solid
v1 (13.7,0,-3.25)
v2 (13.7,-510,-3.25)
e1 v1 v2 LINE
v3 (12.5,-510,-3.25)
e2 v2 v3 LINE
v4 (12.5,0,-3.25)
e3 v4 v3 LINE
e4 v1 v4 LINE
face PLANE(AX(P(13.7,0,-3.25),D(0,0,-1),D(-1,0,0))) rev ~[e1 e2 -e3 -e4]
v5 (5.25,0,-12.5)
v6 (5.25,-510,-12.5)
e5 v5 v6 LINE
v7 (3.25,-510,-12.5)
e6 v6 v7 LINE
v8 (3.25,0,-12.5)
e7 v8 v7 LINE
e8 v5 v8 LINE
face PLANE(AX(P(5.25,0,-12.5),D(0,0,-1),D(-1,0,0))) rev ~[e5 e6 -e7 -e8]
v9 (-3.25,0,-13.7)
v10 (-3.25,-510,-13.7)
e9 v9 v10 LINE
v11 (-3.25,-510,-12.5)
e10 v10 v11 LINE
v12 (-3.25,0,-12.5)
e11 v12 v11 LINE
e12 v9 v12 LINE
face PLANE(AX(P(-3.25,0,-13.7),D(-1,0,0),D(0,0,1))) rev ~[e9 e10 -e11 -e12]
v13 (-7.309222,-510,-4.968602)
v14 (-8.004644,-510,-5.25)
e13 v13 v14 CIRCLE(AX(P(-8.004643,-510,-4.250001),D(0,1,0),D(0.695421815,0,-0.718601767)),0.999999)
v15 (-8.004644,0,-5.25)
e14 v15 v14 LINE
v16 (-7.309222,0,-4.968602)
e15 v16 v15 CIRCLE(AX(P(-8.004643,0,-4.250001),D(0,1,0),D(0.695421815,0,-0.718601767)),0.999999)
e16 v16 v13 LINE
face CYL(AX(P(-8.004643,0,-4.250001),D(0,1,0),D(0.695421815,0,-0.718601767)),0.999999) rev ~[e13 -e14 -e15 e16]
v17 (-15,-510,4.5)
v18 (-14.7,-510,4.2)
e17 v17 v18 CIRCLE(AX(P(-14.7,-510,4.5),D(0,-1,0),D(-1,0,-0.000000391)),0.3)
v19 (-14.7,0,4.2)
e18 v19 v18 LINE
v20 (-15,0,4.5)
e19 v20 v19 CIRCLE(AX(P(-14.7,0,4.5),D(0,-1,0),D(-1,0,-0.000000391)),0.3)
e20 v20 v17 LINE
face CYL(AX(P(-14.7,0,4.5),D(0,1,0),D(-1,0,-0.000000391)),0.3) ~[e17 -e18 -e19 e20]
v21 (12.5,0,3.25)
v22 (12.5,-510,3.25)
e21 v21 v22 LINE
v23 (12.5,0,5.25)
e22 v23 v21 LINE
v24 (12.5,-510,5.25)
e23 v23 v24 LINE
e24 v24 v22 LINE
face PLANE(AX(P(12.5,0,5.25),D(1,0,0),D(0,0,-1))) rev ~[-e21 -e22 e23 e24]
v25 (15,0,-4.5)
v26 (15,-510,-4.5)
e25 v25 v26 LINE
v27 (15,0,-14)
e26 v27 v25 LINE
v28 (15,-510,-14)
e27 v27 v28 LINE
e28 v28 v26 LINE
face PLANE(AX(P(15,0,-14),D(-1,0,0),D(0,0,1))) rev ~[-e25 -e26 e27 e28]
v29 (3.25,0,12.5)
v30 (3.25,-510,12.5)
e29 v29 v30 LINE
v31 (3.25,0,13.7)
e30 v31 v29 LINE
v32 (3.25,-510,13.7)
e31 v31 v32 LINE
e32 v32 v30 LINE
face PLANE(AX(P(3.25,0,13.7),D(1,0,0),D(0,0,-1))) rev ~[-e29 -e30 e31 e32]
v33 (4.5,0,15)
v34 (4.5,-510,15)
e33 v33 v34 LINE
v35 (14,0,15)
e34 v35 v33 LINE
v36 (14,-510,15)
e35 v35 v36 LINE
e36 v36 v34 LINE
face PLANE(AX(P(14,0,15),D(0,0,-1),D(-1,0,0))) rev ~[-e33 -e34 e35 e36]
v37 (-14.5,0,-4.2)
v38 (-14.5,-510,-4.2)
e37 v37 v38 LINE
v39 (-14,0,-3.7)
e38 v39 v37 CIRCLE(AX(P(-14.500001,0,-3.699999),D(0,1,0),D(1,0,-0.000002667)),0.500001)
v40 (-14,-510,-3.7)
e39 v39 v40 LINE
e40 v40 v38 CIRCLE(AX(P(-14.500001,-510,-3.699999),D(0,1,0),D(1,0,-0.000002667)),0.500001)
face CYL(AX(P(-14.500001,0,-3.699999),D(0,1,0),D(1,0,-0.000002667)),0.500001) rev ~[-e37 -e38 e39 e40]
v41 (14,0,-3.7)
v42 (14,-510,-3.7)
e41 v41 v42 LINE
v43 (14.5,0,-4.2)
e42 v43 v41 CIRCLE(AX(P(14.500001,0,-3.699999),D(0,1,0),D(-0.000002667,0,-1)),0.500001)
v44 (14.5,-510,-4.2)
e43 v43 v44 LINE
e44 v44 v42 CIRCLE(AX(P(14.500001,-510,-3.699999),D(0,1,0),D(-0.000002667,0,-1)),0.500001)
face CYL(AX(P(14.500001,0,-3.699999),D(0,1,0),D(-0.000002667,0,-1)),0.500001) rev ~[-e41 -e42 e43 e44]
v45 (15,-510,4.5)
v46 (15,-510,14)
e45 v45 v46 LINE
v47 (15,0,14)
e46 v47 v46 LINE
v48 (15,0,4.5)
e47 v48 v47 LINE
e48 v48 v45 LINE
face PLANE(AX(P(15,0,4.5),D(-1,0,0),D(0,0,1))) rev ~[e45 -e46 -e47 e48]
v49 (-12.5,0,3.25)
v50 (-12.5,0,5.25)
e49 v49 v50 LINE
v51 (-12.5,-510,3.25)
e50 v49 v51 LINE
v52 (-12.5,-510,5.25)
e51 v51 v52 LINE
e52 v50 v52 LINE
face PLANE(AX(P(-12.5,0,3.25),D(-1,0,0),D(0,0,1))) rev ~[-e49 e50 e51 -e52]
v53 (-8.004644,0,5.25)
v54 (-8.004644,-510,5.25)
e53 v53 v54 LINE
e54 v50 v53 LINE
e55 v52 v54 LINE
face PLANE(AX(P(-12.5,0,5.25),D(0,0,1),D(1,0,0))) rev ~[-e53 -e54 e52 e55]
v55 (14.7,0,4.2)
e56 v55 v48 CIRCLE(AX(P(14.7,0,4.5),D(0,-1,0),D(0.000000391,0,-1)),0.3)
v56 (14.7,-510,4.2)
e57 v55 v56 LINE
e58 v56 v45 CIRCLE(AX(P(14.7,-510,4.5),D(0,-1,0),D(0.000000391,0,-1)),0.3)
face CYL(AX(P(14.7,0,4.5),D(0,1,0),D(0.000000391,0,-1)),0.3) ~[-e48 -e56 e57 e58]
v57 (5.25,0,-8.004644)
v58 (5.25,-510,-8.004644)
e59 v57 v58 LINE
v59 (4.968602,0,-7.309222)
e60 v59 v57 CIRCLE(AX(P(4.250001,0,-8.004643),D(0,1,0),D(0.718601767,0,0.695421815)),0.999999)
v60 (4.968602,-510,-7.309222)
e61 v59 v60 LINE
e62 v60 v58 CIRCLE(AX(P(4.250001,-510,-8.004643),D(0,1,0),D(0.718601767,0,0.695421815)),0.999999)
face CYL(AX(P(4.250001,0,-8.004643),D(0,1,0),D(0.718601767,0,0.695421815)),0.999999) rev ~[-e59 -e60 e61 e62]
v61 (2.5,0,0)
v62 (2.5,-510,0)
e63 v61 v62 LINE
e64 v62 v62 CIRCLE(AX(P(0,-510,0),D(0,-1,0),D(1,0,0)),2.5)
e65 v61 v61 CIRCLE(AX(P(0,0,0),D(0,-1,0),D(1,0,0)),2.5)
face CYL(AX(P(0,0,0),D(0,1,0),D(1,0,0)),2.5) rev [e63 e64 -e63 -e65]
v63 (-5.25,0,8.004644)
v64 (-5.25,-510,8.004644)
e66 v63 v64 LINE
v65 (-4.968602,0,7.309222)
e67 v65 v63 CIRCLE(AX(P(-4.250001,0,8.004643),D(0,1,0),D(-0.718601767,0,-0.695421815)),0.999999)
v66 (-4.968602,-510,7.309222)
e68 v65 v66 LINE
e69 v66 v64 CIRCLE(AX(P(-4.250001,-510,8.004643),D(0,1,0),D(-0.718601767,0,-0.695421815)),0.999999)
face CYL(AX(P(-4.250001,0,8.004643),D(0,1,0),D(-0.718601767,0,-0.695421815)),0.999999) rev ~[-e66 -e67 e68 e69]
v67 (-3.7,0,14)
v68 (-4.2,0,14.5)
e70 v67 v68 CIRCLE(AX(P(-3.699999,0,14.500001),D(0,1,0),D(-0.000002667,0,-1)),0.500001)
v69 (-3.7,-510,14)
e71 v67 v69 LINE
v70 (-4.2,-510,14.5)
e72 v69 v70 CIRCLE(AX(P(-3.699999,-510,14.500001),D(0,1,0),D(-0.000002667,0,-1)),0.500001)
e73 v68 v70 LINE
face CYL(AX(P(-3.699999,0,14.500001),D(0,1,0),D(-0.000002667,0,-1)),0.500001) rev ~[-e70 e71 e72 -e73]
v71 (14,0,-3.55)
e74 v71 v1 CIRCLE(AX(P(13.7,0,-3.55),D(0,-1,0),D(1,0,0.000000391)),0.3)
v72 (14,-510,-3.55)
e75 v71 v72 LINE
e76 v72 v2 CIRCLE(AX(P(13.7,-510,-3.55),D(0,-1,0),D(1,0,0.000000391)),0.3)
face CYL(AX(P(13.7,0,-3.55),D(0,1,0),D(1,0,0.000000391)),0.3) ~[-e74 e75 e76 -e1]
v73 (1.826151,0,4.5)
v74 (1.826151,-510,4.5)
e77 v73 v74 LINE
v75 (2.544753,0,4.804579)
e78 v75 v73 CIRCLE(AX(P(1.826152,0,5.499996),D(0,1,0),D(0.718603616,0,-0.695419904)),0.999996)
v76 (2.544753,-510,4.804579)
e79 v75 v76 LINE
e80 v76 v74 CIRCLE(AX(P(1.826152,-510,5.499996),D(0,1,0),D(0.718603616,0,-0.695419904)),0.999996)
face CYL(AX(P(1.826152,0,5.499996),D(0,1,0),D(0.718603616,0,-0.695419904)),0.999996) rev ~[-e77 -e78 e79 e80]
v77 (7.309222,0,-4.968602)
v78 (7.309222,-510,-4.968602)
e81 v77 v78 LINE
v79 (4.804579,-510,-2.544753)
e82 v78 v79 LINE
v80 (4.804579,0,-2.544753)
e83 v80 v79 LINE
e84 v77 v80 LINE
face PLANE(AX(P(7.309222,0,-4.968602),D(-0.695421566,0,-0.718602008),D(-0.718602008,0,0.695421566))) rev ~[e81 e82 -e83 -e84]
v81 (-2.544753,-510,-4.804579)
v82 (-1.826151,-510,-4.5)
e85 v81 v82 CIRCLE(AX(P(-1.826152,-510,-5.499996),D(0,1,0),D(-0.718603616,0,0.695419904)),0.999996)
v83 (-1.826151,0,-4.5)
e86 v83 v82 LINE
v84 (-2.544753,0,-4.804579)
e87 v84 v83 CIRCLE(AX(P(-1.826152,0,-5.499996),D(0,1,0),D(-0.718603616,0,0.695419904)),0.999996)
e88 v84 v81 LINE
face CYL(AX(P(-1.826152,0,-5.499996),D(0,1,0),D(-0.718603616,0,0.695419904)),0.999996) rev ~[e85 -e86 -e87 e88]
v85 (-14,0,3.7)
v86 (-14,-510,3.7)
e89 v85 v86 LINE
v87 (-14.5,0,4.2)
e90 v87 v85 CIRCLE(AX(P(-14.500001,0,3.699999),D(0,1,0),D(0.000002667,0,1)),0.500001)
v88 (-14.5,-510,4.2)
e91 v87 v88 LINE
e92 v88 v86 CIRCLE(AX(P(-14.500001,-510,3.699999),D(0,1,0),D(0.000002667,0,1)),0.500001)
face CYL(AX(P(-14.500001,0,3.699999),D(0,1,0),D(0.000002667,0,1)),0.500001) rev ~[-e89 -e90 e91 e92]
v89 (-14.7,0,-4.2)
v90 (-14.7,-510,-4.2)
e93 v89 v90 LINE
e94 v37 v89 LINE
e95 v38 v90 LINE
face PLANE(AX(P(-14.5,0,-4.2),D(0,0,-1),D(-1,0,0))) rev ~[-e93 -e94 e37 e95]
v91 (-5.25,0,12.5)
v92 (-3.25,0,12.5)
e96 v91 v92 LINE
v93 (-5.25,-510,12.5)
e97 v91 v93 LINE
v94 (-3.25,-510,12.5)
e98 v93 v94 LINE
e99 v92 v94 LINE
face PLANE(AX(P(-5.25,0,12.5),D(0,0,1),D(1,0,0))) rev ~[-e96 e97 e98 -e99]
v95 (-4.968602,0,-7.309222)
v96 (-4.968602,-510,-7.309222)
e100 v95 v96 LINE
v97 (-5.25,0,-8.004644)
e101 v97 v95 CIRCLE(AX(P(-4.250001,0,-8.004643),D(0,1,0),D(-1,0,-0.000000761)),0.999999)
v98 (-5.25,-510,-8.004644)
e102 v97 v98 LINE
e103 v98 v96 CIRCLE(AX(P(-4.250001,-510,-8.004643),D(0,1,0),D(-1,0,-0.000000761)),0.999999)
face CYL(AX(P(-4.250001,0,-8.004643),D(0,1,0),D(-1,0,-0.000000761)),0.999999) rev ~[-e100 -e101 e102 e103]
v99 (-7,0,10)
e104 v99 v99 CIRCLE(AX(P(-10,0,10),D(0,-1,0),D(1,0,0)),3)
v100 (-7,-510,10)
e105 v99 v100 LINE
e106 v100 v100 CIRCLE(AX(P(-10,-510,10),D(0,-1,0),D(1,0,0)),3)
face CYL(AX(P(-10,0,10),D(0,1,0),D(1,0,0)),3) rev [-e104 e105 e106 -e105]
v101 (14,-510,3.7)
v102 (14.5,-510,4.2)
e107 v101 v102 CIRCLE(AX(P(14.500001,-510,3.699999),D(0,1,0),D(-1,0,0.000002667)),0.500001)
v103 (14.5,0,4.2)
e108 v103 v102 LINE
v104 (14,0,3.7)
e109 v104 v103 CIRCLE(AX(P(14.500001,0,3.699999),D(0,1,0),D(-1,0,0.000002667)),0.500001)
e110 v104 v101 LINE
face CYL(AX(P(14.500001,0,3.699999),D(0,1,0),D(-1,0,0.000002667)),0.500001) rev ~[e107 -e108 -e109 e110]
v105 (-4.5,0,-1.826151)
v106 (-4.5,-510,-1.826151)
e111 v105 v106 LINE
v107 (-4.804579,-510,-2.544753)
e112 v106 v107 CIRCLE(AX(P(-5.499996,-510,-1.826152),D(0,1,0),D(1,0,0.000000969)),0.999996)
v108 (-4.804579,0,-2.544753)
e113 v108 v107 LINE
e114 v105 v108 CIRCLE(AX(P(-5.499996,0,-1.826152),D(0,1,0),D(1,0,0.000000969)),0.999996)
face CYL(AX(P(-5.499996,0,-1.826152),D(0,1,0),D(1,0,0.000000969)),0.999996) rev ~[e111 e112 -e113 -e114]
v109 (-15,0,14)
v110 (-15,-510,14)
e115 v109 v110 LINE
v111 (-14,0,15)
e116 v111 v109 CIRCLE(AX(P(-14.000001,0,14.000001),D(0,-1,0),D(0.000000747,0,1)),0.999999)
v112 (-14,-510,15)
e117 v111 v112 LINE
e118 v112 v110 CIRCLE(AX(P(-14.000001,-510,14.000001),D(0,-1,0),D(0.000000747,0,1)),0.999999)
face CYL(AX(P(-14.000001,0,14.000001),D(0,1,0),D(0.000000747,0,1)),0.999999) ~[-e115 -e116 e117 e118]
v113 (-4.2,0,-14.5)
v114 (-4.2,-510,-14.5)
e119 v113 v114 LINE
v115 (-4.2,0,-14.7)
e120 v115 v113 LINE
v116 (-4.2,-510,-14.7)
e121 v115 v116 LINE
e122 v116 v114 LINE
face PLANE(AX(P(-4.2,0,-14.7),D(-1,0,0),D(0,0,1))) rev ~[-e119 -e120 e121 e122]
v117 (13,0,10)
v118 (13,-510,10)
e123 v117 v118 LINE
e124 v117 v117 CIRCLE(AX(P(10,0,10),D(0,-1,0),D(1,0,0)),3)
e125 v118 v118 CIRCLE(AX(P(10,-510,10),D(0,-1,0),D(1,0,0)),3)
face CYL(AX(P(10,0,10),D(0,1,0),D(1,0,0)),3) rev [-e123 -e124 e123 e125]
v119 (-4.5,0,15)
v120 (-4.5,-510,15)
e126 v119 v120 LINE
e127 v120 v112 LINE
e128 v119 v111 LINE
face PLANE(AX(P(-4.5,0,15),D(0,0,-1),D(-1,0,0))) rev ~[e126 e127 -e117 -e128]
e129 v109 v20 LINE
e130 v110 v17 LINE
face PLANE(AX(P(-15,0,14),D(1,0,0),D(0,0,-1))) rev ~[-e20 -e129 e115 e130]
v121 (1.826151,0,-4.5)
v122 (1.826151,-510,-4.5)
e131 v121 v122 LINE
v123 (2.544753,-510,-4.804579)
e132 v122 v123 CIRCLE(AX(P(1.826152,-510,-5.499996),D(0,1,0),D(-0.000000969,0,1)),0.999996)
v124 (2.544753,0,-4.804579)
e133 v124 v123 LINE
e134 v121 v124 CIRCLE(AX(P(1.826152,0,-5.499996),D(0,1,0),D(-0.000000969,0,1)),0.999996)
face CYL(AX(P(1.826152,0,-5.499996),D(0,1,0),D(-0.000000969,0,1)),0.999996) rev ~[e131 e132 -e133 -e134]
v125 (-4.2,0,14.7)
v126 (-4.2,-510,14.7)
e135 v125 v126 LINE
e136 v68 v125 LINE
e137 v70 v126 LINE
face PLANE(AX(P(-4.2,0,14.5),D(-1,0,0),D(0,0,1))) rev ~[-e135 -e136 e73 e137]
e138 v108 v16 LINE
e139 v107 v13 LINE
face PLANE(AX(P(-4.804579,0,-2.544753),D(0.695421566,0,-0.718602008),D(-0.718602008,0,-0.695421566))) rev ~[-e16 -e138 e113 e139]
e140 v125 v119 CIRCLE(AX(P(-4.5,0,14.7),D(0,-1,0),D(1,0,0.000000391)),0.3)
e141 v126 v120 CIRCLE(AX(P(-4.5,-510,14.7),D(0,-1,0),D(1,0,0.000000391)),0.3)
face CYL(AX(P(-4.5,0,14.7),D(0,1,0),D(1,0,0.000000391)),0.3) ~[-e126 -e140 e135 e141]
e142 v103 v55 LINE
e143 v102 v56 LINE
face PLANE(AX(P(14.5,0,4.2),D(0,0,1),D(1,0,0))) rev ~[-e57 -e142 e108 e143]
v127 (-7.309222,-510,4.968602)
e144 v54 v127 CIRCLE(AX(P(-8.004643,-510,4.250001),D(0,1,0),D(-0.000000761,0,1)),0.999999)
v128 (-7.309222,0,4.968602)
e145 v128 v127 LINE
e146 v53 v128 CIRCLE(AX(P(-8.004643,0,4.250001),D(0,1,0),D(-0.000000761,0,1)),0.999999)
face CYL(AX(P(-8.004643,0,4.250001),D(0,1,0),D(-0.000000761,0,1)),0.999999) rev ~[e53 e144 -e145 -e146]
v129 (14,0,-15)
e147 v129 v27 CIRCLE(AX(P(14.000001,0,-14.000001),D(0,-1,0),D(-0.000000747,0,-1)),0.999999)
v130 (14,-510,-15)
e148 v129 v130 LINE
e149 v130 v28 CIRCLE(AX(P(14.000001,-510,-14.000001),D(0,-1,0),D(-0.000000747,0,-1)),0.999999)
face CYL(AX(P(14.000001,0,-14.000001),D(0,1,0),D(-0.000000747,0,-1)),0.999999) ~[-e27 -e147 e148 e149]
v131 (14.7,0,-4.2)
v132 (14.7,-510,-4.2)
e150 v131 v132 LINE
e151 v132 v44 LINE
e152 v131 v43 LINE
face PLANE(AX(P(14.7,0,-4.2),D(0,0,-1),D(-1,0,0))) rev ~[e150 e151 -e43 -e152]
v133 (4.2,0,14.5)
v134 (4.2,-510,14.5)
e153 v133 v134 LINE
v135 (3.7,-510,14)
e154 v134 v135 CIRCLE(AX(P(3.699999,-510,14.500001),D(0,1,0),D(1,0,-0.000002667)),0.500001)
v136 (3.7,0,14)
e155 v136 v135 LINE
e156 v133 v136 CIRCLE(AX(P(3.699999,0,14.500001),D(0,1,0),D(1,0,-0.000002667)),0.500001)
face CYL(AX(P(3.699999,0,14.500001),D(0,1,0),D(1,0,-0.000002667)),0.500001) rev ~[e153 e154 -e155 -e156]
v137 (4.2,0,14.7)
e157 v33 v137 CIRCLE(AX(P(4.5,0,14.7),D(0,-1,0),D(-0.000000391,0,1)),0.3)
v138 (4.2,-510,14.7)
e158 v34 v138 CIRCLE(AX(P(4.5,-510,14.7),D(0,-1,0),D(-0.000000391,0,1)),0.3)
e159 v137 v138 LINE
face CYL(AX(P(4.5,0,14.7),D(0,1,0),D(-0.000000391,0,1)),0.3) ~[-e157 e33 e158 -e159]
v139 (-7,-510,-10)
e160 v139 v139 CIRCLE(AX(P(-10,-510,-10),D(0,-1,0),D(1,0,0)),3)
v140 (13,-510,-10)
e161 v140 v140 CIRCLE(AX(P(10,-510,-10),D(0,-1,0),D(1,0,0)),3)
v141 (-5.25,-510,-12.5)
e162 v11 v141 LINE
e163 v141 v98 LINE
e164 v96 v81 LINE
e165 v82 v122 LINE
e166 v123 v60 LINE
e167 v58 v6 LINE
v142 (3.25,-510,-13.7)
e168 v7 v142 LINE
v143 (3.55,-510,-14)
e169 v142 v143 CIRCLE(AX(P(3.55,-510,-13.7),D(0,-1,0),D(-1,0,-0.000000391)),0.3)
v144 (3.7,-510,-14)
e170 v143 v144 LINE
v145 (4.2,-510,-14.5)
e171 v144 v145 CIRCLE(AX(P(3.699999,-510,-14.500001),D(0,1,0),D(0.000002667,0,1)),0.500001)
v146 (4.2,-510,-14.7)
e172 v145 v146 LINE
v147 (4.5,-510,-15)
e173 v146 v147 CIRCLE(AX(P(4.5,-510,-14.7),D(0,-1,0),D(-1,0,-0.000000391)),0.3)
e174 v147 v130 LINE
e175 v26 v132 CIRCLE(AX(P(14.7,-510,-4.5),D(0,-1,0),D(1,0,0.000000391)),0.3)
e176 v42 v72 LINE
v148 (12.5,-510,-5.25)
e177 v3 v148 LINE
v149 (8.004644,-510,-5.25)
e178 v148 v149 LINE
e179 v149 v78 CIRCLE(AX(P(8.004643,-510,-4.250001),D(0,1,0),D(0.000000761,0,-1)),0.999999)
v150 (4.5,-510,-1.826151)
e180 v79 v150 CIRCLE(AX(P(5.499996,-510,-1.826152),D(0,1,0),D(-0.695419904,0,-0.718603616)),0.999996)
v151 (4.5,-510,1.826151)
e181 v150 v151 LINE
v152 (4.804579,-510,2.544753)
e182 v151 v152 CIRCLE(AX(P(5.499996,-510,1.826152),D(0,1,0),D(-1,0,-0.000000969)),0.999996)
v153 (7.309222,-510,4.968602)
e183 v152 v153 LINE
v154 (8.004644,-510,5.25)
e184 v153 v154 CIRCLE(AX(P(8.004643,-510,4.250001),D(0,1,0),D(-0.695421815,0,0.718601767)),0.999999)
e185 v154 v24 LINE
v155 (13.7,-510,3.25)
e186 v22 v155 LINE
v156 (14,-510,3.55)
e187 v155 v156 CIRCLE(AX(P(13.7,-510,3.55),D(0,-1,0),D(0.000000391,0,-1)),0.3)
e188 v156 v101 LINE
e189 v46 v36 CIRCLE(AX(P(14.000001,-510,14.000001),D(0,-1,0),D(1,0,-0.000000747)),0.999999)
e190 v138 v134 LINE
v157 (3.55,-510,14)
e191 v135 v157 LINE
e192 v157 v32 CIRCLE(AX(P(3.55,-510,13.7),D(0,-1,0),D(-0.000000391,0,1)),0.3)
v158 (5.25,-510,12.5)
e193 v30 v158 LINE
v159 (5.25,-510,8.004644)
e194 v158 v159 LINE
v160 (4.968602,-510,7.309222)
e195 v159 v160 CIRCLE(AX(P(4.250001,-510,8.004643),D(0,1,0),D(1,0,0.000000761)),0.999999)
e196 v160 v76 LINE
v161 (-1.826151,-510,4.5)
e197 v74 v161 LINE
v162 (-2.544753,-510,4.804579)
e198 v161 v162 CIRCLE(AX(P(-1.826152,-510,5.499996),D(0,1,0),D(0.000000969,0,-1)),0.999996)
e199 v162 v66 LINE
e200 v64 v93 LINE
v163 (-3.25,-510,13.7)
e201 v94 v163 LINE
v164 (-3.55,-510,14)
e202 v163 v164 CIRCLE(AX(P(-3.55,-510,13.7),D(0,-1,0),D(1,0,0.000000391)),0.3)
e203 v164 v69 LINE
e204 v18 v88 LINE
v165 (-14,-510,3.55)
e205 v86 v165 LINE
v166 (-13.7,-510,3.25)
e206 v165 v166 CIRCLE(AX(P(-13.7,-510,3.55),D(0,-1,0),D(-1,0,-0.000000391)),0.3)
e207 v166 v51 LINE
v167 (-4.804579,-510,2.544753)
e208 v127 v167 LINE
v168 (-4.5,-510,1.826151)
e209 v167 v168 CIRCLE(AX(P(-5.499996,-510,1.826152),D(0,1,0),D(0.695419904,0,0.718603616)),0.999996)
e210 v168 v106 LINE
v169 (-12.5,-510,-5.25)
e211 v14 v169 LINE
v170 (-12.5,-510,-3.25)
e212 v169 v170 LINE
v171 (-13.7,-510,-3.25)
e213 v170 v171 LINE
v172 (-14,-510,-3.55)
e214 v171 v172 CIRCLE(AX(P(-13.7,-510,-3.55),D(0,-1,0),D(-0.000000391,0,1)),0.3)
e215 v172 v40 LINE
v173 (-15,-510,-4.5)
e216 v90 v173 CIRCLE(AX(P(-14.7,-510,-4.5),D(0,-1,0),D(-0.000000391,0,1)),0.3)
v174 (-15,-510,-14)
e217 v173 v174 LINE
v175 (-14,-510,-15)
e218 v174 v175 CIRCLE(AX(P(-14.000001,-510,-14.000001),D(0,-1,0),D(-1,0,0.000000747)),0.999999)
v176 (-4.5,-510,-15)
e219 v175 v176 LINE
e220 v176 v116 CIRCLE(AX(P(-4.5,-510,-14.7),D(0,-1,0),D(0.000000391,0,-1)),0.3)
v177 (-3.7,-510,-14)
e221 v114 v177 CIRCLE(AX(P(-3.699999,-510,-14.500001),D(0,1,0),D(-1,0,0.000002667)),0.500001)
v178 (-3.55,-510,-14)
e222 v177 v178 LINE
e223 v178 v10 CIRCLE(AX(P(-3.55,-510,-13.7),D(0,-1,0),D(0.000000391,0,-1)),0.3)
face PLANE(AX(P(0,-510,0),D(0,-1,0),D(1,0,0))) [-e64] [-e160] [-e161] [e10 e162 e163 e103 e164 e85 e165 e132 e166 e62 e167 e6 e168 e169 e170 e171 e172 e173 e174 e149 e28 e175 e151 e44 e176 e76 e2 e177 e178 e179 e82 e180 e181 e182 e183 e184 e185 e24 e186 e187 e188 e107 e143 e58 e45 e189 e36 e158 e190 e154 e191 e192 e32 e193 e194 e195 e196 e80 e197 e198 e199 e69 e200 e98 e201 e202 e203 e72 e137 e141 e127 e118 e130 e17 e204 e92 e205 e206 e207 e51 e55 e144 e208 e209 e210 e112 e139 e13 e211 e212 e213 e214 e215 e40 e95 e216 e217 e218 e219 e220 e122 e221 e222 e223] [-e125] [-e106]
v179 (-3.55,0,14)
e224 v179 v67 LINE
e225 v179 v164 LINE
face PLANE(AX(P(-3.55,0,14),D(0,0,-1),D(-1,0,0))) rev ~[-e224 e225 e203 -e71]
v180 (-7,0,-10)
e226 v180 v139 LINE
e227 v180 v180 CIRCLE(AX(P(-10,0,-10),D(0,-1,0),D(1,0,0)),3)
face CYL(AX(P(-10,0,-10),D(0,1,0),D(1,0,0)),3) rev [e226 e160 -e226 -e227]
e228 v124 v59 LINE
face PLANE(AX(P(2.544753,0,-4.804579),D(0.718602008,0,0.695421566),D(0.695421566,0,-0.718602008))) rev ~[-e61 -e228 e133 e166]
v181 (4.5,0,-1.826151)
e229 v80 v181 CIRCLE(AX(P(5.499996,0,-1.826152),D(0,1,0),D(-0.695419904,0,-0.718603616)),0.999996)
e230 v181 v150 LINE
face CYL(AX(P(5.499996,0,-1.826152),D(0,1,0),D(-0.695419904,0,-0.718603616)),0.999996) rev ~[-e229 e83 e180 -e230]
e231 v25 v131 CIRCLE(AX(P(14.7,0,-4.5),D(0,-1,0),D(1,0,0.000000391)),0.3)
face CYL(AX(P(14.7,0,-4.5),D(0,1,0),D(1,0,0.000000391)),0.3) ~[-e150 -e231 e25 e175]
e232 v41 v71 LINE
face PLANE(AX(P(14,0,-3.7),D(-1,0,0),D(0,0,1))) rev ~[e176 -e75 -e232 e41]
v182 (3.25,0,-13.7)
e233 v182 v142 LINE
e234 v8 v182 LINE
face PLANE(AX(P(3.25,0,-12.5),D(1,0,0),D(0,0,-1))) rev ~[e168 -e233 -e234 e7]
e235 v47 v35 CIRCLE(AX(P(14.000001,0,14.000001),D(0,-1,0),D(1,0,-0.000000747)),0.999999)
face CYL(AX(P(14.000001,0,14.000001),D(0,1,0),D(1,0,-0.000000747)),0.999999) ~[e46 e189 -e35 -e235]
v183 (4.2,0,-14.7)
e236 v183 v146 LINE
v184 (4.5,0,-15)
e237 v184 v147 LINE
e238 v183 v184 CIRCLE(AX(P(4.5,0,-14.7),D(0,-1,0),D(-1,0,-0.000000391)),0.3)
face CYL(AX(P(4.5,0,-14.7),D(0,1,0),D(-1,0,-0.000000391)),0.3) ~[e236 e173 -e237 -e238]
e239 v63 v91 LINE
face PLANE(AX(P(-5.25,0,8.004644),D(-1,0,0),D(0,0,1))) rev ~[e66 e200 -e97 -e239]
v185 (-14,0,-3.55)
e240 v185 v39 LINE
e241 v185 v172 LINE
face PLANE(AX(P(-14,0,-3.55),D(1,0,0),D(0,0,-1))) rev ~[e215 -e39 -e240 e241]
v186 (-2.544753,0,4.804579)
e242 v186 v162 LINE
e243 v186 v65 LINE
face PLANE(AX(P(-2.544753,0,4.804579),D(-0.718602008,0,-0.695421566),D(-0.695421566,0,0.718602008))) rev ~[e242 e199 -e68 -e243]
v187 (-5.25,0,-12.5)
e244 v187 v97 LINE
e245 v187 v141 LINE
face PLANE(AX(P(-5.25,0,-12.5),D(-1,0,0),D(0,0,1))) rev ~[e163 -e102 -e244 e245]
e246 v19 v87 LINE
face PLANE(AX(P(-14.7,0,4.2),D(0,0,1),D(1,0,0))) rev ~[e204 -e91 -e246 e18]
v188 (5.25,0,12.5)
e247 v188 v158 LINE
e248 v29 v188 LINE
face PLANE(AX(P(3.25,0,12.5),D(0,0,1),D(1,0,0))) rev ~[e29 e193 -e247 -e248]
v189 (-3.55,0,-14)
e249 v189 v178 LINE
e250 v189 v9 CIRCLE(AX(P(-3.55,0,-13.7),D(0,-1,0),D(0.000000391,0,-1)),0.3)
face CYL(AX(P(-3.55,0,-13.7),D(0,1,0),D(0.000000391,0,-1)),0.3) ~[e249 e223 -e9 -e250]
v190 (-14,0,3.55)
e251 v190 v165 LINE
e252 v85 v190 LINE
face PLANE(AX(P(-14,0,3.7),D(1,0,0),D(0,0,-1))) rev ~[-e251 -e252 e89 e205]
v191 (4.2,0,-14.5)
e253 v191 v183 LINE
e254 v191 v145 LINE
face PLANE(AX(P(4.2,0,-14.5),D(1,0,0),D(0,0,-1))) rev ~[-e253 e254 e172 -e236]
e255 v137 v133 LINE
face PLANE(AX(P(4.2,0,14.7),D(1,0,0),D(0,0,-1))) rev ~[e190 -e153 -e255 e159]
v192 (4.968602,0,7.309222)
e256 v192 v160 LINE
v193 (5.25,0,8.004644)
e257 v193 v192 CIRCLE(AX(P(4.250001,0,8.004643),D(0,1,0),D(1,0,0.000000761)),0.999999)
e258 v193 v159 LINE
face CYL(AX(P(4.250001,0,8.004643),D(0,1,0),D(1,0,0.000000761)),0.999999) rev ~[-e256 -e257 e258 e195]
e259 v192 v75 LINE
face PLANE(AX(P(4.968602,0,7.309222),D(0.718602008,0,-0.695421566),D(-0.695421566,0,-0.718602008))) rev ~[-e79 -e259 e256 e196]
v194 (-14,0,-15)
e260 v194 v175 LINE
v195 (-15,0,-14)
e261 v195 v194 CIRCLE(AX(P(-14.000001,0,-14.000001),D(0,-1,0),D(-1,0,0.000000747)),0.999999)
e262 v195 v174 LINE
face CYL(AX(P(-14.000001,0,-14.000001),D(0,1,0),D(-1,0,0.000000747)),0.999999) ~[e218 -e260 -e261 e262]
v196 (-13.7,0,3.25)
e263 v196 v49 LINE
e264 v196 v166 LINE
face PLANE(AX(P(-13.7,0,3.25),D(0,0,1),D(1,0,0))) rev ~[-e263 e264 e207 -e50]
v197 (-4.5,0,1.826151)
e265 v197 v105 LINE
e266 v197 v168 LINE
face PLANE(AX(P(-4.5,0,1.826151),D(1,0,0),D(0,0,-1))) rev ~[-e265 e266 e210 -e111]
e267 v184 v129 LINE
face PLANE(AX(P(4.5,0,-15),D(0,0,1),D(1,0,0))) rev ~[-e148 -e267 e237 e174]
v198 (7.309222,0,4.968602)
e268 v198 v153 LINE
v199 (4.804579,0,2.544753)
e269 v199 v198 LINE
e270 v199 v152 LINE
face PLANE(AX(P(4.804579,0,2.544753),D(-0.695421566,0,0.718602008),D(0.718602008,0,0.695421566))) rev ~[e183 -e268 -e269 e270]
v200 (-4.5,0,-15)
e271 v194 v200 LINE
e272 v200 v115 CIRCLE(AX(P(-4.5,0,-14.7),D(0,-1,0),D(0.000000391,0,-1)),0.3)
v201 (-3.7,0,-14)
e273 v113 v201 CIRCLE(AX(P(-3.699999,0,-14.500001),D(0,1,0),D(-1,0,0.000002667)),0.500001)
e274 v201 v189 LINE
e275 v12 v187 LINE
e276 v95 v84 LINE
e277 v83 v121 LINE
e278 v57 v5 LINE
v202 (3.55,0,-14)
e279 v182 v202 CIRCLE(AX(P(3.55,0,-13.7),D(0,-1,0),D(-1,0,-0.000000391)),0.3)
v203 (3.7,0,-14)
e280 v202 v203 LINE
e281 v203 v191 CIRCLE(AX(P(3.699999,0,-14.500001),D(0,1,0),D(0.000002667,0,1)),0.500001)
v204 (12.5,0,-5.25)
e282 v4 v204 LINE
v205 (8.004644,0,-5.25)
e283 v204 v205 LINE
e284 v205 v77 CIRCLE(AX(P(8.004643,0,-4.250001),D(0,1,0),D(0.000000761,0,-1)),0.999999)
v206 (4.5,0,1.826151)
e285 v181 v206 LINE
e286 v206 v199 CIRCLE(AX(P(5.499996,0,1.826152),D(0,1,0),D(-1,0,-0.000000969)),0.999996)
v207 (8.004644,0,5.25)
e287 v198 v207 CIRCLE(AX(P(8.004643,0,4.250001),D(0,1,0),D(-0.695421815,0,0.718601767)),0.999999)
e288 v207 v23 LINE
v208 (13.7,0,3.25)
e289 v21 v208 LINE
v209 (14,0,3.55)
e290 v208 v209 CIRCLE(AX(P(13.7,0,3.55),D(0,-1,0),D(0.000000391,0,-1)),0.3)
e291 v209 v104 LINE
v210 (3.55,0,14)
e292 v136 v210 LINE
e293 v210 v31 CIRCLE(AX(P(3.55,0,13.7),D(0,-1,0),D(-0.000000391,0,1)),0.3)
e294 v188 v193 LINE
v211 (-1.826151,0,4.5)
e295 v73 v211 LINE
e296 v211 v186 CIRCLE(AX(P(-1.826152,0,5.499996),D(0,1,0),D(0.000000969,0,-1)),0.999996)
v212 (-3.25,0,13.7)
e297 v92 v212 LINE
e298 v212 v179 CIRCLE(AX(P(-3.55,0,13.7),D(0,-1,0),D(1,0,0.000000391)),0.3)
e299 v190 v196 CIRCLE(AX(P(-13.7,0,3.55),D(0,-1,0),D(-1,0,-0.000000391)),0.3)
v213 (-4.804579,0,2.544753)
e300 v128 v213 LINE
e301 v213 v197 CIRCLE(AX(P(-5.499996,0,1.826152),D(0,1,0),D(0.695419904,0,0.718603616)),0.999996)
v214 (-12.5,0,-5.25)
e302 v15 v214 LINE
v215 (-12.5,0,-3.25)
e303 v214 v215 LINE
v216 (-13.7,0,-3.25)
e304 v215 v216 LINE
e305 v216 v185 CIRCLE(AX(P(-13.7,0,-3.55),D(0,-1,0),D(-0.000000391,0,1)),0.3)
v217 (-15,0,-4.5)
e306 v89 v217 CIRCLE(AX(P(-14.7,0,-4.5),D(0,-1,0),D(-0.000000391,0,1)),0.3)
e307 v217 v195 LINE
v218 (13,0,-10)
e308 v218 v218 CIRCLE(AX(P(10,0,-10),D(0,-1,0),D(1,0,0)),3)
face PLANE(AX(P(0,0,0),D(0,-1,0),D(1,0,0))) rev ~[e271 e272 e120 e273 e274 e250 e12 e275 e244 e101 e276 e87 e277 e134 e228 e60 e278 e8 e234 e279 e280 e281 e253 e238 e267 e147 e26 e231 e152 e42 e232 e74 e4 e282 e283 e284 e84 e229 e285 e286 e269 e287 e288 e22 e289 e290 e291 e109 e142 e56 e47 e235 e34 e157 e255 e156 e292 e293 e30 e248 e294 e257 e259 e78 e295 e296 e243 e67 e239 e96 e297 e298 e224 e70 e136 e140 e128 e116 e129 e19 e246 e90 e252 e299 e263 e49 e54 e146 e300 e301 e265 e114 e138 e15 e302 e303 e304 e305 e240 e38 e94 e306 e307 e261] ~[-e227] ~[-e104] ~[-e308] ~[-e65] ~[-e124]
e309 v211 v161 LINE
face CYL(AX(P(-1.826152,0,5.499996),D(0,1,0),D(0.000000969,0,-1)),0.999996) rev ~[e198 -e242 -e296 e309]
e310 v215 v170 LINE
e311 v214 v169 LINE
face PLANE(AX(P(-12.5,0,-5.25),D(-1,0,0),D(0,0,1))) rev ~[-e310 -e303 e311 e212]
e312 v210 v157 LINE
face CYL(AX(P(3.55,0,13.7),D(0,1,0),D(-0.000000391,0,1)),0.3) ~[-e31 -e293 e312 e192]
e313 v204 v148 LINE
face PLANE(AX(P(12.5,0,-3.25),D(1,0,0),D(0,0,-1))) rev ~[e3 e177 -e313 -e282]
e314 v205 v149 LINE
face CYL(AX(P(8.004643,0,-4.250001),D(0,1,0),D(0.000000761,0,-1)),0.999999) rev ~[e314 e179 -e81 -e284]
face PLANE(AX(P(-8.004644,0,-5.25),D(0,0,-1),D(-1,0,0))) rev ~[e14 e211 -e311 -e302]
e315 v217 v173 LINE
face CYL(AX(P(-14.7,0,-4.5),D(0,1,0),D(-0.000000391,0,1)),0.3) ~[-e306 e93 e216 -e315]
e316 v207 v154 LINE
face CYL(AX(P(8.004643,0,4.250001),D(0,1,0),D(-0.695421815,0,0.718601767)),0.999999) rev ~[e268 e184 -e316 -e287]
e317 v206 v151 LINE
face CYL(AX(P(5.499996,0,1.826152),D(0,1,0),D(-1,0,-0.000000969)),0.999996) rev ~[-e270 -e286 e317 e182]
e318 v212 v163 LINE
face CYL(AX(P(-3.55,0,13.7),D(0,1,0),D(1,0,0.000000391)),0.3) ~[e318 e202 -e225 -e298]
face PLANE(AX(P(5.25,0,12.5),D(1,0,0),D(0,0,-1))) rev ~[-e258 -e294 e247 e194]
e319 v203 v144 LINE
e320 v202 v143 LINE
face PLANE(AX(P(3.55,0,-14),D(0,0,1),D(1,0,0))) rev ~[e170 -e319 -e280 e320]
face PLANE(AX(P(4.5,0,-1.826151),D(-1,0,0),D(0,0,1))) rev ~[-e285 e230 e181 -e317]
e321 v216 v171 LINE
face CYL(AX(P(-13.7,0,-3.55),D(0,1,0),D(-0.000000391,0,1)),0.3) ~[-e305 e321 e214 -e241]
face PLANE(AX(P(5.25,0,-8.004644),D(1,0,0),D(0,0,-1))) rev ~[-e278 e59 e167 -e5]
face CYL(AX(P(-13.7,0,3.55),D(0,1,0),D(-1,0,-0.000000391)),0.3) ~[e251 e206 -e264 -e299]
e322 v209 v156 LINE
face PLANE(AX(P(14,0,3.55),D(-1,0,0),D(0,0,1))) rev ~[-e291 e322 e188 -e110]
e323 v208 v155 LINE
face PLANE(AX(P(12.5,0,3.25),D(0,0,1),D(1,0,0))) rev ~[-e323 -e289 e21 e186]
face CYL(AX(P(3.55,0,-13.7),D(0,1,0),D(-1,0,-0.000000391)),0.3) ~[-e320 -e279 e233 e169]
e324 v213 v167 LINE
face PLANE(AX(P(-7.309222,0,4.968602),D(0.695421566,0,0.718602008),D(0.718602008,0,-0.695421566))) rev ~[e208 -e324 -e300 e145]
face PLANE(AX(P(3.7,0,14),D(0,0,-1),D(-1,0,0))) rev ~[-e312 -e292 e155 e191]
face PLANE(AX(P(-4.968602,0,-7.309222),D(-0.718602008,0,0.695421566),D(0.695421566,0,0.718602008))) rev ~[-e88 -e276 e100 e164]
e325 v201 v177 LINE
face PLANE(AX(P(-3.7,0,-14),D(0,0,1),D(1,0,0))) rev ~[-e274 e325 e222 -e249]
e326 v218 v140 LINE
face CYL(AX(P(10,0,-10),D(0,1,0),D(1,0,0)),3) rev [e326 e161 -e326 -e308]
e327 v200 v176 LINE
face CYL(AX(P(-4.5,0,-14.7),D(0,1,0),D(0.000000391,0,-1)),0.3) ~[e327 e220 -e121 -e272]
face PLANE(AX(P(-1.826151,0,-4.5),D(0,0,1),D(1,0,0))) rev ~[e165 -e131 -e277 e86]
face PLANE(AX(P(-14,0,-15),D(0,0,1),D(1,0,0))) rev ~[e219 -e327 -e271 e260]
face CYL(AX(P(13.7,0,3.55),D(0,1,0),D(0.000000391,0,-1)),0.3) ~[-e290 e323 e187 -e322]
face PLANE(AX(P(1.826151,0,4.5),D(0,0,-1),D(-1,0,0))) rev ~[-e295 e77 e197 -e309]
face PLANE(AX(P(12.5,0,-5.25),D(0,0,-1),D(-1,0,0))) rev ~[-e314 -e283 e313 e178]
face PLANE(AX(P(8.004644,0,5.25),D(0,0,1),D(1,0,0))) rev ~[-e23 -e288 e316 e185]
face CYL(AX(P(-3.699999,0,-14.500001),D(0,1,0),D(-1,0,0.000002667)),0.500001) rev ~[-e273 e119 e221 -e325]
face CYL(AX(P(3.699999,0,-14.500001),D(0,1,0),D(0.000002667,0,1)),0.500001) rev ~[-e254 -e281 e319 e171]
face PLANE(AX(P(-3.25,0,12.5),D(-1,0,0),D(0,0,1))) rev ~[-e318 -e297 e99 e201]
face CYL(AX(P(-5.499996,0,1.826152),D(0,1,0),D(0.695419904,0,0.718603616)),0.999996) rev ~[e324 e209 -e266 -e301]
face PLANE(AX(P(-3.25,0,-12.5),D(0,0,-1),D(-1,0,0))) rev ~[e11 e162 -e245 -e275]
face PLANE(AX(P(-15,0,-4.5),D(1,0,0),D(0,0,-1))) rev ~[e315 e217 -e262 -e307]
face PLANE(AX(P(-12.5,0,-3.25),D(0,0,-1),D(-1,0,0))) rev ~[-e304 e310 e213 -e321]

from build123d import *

# Parameters (mm, degrees)
F0_R     = 3
F0_R_2   = 2.5
F1_DEPTH = 510


with BuildPart() as f1:
    # F0 (on Front) → F1 (new body)
    with BuildSketch(Plane.XZ):
        with BuildLine():
            Line((-4.5, 15), (-14, 15))
            ThreePointArc((-14, 15), (-14.707107, 14.707107), (-15, 14))
            Line((-15, 14), (-15, 4.5))
            ThreePointArc((-15, 4.5), (-14.912132, 4.287868), (-14.7, 4.2))
            Line((-14.7, 4.2), (-14.5, 4.2))
            ThreePointArc((-14.5, 4.2), (-14.146447, 4.053553), (-14, 3.7))
            Line((-14, 3.7), (-14, 3.55))
            ThreePointArc((-14, 3.55), (-13.912132, 3.337868), (-13.7, 3.25))
            Line((-13.7, 3.25), (-12.5, 3.25))
            Line((-12.5, 3.25), (-12.5, 5.25))
            Line((-12.5, 5.25), (-8.004644, 5.25))
            ThreePointArc((-8.004644, 5.25), (-7.629545, 5.176985), (-7.309222, 4.968602))
            Line((-7.309222, 4.968602), (-4.804579, 2.544753))
            ThreePointArc((-4.804579, 2.544753), (-4.579288, 2.216394), (-4.5, 1.826151))
            Line((-4.5, 1.826151), (-4.5, -1.826151))
            ThreePointArc((-4.5, -1.826151), (-4.579288, -2.216394), (-4.804579, -2.544753))
            Line((-4.804579, -2.544753), (-7.309222, -4.968602))
            ThreePointArc((-7.309222, -4.968602), (-7.629545, -5.176985), (-8.004644, -5.25))
            Line((-8.004644, -5.25), (-12.5, -5.25))
            Line((-12.5, -5.25), (-12.5, -3.25))
            Line((-12.5, -3.25), (-13.7, -3.25))
            ThreePointArc((-13.7, -3.25), (-13.912132, -3.337868), (-14, -3.55))
            Line((-14, -3.55), (-14, -3.7))
            ThreePointArc((-14, -3.7), (-14.146447, -4.053553), (-14.5, -4.2))
            Line((-14.5, -4.2), (-14.7, -4.2))
            ThreePointArc((-14.7, -4.2), (-14.912132, -4.287868), (-15, -4.5))
            Line((-15, -4.5), (-15, -14))
            ThreePointArc((-15, -14), (-14.707107, -14.707107), (-14, -15))
            Line((-14, -15), (-4.5, -15))
            ThreePointArc((-4.5, -15), (-4.287868, -14.912132), (-4.2, -14.7))
            Line((-4.2, -14.7), (-4.2, -14.5))
            ThreePointArc((-4.2, -14.5), (-4.053553, -14.146447), (-3.7, -14))
            Line((-3.7, -14), (-3.55, -14))
            ThreePointArc((-3.55, -14), (-3.337868, -13.912132), (-3.25, -13.7))
            Line((-3.25, -13.7), (-3.25, -12.5))
            Line((-3.25, -12.5), (-5.25, -12.5))
            Line((-5.25, -12.5), (-5.25, -8.004644))
            ThreePointArc((-5.25, -8.004644), (-5.176985, -7.629545), (-4.968602, -7.309222))
            Line((-4.968602, -7.309222), (-2.544753, -4.804579))
            ThreePointArc((-2.544753, -4.804579), (-2.216394, -4.579288), (-1.826151, -4.5))
            Line((-1.826151, -4.5), (1.826151, -4.5))
            ThreePointArc((1.826151, -4.5), (2.216394, -4.579288), (2.544753, -4.804579))
            Line((2.544753, -4.804579), (4.968602, -7.309222))
            ThreePointArc((4.968602, -7.309222), (5.176985, -7.629545), (5.25, -8.004644))
            Line((5.25, -8.004644), (5.25, -12.5))
            Line((5.25, -12.5), (3.25, -12.5))
            Line((3.25, -12.5), (3.25, -13.7))
            ThreePointArc((3.25, -13.7), (3.337868, -13.912132), (3.55, -14))
            Line((3.55, -14), (3.7, -14))
            ThreePointArc((3.7, -14), (4.053553, -14.146447), (4.2, -14.5))
            Line((4.2, -14.5), (4.2, -14.7))
            ThreePointArc((4.2, -14.7), (4.287868, -14.912132), (4.5, -15))
            Line((4.5, -15), (14, -15))
            ThreePointArc((14, -15), (14.707107, -14.707107), (15, -14))
            Line((15, -14), (15, -4.5))
            ThreePointArc((15, -4.5), (14.912132, -4.287868), (14.7, -4.2))
            Line((14.7, -4.2), (14.5, -4.2))
            ThreePointArc((14.5, -4.2), (14.146447, -4.053553), (14, -3.7))
            Line((14, -3.7), (14, -3.55))
            ThreePointArc((14, -3.55), (13.912132, -3.337868), (13.7, -3.25))
            Line((13.7, -3.25), (12.5, -3.25))
            Line((12.5, -3.25), (12.5, -5.25))
            Line((12.5, -5.25), (8.004644, -5.25))
            ThreePointArc((8.004644, -5.25), (7.629545, -5.176985), (7.309222, -4.968602))
            Line((7.309222, -4.968602), (4.804579, -2.544753))
            ThreePointArc((4.804579, -2.544753), (4.579288, -2.216394), (4.5, -1.826151))
            Line((4.5, -1.826151), (4.5, 1.826151))
            ThreePointArc((4.5, 1.826151), (4.579288, 2.216394), (4.804579, 2.544753))
            Line((4.804579, 2.544753), (7.309222, 4.968602))
            ThreePointArc((7.309222, 4.968602), (7.629545, 5.176985), (8.004644, 5.25))
            Line((8.004644, 5.25), (12.5, 5.25))
            Line((12.5, 5.25), (12.5, 3.25))
            Line((12.5, 3.25), (13.7, 3.25))
            ThreePointArc((13.7, 3.25), (13.912132, 3.337868), (14, 3.55))
            Line((14, 3.55), (14, 3.7))
            ThreePointArc((14, 3.7), (14.146447, 4.053553), (14.5, 4.2))
            Line((14.5, 4.2), (14.7, 4.2))
            ThreePointArc((14.7, 4.2), (14.912132, 4.287868), (15, 4.5))
            Line((15, 4.5), (15, 14))
            ThreePointArc((15, 14), (14.707107, 14.707107), (14, 15))
            Line((14, 15), (4.5, 15))
            ThreePointArc((4.5, 15), (4.287868, 14.912132), (4.2, 14.7))
            Line((4.2, 14.7), (4.2, 14.5))
            ThreePointArc((4.2, 14.5), (4.053553, 14.146447), (3.7, 14))
            Line((3.7, 14), (3.55, 14))
            ThreePointArc((3.55, 14), (3.337868, 13.912132), (3.25, 13.7))
            Line((3.25, 13.7), (3.25, 12.5))
            Line((3.25, 12.5), (5.25, 12.5))
            Line((5.25, 12.5), (5.25, 8.004644))
            ThreePointArc((5.25, 8.004644), (5.176985, 7.629545), (4.968602, 7.309222))
            Line((4.968602, 7.309222), (2.544753, 4.804579))
            ThreePointArc((2.544753, 4.804579), (2.216394, 4.579288), (1.826151, 4.5))
            Line((1.826151, 4.5), (-1.826151, 4.5))
            ThreePointArc((-1.826151, 4.5), (-2.216394, 4.579288), (-2.544753, 4.804579))
            Line((-2.544753, 4.804579), (-4.968602, 7.309222))
            ThreePointArc((-4.968602, 7.309222), (-5.176985, 7.629545), (-5.25, 8.004644))
            Line((-5.25, 8.004644), (-5.25, 12.5))
            Line((-5.25, 12.5), (-3.25, 12.5))
            Line((-3.25, 12.5), (-3.25, 13.7))
            ThreePointArc((-3.25, 13.7), (-3.337868, 13.912132), (-3.55, 14))
            Line((-3.55, 14), (-3.7, 14))
            ThreePointArc((-3.7, 14), (-4.053553, 14.146447), (-4.2, 14.5))
            Line((-4.2, 14.5), (-4.2, 14.7))
            ThreePointArc((-4.2, 14.7), (-4.287868, 14.912132), (-4.5, 15))
        make_face()
        with Locations((-10, -10)):
            Circle(F0_R, mode=Mode.SUBTRACT)
        with Locations((10, -10)):
            Circle(F0_R, mode=Mode.SUBTRACT)
        with Locations((-10, 10)):
            Circle(F0_R, mode=Mode.SUBTRACT)
        Circle(F0_R_2, mode=Mode.SUBTRACT)
        with Locations((10, 10)):
            Circle(F0_R, mode=Mode.SUBTRACT)
    extrude(amount=F1_DEPTH)


solid = f1.part
